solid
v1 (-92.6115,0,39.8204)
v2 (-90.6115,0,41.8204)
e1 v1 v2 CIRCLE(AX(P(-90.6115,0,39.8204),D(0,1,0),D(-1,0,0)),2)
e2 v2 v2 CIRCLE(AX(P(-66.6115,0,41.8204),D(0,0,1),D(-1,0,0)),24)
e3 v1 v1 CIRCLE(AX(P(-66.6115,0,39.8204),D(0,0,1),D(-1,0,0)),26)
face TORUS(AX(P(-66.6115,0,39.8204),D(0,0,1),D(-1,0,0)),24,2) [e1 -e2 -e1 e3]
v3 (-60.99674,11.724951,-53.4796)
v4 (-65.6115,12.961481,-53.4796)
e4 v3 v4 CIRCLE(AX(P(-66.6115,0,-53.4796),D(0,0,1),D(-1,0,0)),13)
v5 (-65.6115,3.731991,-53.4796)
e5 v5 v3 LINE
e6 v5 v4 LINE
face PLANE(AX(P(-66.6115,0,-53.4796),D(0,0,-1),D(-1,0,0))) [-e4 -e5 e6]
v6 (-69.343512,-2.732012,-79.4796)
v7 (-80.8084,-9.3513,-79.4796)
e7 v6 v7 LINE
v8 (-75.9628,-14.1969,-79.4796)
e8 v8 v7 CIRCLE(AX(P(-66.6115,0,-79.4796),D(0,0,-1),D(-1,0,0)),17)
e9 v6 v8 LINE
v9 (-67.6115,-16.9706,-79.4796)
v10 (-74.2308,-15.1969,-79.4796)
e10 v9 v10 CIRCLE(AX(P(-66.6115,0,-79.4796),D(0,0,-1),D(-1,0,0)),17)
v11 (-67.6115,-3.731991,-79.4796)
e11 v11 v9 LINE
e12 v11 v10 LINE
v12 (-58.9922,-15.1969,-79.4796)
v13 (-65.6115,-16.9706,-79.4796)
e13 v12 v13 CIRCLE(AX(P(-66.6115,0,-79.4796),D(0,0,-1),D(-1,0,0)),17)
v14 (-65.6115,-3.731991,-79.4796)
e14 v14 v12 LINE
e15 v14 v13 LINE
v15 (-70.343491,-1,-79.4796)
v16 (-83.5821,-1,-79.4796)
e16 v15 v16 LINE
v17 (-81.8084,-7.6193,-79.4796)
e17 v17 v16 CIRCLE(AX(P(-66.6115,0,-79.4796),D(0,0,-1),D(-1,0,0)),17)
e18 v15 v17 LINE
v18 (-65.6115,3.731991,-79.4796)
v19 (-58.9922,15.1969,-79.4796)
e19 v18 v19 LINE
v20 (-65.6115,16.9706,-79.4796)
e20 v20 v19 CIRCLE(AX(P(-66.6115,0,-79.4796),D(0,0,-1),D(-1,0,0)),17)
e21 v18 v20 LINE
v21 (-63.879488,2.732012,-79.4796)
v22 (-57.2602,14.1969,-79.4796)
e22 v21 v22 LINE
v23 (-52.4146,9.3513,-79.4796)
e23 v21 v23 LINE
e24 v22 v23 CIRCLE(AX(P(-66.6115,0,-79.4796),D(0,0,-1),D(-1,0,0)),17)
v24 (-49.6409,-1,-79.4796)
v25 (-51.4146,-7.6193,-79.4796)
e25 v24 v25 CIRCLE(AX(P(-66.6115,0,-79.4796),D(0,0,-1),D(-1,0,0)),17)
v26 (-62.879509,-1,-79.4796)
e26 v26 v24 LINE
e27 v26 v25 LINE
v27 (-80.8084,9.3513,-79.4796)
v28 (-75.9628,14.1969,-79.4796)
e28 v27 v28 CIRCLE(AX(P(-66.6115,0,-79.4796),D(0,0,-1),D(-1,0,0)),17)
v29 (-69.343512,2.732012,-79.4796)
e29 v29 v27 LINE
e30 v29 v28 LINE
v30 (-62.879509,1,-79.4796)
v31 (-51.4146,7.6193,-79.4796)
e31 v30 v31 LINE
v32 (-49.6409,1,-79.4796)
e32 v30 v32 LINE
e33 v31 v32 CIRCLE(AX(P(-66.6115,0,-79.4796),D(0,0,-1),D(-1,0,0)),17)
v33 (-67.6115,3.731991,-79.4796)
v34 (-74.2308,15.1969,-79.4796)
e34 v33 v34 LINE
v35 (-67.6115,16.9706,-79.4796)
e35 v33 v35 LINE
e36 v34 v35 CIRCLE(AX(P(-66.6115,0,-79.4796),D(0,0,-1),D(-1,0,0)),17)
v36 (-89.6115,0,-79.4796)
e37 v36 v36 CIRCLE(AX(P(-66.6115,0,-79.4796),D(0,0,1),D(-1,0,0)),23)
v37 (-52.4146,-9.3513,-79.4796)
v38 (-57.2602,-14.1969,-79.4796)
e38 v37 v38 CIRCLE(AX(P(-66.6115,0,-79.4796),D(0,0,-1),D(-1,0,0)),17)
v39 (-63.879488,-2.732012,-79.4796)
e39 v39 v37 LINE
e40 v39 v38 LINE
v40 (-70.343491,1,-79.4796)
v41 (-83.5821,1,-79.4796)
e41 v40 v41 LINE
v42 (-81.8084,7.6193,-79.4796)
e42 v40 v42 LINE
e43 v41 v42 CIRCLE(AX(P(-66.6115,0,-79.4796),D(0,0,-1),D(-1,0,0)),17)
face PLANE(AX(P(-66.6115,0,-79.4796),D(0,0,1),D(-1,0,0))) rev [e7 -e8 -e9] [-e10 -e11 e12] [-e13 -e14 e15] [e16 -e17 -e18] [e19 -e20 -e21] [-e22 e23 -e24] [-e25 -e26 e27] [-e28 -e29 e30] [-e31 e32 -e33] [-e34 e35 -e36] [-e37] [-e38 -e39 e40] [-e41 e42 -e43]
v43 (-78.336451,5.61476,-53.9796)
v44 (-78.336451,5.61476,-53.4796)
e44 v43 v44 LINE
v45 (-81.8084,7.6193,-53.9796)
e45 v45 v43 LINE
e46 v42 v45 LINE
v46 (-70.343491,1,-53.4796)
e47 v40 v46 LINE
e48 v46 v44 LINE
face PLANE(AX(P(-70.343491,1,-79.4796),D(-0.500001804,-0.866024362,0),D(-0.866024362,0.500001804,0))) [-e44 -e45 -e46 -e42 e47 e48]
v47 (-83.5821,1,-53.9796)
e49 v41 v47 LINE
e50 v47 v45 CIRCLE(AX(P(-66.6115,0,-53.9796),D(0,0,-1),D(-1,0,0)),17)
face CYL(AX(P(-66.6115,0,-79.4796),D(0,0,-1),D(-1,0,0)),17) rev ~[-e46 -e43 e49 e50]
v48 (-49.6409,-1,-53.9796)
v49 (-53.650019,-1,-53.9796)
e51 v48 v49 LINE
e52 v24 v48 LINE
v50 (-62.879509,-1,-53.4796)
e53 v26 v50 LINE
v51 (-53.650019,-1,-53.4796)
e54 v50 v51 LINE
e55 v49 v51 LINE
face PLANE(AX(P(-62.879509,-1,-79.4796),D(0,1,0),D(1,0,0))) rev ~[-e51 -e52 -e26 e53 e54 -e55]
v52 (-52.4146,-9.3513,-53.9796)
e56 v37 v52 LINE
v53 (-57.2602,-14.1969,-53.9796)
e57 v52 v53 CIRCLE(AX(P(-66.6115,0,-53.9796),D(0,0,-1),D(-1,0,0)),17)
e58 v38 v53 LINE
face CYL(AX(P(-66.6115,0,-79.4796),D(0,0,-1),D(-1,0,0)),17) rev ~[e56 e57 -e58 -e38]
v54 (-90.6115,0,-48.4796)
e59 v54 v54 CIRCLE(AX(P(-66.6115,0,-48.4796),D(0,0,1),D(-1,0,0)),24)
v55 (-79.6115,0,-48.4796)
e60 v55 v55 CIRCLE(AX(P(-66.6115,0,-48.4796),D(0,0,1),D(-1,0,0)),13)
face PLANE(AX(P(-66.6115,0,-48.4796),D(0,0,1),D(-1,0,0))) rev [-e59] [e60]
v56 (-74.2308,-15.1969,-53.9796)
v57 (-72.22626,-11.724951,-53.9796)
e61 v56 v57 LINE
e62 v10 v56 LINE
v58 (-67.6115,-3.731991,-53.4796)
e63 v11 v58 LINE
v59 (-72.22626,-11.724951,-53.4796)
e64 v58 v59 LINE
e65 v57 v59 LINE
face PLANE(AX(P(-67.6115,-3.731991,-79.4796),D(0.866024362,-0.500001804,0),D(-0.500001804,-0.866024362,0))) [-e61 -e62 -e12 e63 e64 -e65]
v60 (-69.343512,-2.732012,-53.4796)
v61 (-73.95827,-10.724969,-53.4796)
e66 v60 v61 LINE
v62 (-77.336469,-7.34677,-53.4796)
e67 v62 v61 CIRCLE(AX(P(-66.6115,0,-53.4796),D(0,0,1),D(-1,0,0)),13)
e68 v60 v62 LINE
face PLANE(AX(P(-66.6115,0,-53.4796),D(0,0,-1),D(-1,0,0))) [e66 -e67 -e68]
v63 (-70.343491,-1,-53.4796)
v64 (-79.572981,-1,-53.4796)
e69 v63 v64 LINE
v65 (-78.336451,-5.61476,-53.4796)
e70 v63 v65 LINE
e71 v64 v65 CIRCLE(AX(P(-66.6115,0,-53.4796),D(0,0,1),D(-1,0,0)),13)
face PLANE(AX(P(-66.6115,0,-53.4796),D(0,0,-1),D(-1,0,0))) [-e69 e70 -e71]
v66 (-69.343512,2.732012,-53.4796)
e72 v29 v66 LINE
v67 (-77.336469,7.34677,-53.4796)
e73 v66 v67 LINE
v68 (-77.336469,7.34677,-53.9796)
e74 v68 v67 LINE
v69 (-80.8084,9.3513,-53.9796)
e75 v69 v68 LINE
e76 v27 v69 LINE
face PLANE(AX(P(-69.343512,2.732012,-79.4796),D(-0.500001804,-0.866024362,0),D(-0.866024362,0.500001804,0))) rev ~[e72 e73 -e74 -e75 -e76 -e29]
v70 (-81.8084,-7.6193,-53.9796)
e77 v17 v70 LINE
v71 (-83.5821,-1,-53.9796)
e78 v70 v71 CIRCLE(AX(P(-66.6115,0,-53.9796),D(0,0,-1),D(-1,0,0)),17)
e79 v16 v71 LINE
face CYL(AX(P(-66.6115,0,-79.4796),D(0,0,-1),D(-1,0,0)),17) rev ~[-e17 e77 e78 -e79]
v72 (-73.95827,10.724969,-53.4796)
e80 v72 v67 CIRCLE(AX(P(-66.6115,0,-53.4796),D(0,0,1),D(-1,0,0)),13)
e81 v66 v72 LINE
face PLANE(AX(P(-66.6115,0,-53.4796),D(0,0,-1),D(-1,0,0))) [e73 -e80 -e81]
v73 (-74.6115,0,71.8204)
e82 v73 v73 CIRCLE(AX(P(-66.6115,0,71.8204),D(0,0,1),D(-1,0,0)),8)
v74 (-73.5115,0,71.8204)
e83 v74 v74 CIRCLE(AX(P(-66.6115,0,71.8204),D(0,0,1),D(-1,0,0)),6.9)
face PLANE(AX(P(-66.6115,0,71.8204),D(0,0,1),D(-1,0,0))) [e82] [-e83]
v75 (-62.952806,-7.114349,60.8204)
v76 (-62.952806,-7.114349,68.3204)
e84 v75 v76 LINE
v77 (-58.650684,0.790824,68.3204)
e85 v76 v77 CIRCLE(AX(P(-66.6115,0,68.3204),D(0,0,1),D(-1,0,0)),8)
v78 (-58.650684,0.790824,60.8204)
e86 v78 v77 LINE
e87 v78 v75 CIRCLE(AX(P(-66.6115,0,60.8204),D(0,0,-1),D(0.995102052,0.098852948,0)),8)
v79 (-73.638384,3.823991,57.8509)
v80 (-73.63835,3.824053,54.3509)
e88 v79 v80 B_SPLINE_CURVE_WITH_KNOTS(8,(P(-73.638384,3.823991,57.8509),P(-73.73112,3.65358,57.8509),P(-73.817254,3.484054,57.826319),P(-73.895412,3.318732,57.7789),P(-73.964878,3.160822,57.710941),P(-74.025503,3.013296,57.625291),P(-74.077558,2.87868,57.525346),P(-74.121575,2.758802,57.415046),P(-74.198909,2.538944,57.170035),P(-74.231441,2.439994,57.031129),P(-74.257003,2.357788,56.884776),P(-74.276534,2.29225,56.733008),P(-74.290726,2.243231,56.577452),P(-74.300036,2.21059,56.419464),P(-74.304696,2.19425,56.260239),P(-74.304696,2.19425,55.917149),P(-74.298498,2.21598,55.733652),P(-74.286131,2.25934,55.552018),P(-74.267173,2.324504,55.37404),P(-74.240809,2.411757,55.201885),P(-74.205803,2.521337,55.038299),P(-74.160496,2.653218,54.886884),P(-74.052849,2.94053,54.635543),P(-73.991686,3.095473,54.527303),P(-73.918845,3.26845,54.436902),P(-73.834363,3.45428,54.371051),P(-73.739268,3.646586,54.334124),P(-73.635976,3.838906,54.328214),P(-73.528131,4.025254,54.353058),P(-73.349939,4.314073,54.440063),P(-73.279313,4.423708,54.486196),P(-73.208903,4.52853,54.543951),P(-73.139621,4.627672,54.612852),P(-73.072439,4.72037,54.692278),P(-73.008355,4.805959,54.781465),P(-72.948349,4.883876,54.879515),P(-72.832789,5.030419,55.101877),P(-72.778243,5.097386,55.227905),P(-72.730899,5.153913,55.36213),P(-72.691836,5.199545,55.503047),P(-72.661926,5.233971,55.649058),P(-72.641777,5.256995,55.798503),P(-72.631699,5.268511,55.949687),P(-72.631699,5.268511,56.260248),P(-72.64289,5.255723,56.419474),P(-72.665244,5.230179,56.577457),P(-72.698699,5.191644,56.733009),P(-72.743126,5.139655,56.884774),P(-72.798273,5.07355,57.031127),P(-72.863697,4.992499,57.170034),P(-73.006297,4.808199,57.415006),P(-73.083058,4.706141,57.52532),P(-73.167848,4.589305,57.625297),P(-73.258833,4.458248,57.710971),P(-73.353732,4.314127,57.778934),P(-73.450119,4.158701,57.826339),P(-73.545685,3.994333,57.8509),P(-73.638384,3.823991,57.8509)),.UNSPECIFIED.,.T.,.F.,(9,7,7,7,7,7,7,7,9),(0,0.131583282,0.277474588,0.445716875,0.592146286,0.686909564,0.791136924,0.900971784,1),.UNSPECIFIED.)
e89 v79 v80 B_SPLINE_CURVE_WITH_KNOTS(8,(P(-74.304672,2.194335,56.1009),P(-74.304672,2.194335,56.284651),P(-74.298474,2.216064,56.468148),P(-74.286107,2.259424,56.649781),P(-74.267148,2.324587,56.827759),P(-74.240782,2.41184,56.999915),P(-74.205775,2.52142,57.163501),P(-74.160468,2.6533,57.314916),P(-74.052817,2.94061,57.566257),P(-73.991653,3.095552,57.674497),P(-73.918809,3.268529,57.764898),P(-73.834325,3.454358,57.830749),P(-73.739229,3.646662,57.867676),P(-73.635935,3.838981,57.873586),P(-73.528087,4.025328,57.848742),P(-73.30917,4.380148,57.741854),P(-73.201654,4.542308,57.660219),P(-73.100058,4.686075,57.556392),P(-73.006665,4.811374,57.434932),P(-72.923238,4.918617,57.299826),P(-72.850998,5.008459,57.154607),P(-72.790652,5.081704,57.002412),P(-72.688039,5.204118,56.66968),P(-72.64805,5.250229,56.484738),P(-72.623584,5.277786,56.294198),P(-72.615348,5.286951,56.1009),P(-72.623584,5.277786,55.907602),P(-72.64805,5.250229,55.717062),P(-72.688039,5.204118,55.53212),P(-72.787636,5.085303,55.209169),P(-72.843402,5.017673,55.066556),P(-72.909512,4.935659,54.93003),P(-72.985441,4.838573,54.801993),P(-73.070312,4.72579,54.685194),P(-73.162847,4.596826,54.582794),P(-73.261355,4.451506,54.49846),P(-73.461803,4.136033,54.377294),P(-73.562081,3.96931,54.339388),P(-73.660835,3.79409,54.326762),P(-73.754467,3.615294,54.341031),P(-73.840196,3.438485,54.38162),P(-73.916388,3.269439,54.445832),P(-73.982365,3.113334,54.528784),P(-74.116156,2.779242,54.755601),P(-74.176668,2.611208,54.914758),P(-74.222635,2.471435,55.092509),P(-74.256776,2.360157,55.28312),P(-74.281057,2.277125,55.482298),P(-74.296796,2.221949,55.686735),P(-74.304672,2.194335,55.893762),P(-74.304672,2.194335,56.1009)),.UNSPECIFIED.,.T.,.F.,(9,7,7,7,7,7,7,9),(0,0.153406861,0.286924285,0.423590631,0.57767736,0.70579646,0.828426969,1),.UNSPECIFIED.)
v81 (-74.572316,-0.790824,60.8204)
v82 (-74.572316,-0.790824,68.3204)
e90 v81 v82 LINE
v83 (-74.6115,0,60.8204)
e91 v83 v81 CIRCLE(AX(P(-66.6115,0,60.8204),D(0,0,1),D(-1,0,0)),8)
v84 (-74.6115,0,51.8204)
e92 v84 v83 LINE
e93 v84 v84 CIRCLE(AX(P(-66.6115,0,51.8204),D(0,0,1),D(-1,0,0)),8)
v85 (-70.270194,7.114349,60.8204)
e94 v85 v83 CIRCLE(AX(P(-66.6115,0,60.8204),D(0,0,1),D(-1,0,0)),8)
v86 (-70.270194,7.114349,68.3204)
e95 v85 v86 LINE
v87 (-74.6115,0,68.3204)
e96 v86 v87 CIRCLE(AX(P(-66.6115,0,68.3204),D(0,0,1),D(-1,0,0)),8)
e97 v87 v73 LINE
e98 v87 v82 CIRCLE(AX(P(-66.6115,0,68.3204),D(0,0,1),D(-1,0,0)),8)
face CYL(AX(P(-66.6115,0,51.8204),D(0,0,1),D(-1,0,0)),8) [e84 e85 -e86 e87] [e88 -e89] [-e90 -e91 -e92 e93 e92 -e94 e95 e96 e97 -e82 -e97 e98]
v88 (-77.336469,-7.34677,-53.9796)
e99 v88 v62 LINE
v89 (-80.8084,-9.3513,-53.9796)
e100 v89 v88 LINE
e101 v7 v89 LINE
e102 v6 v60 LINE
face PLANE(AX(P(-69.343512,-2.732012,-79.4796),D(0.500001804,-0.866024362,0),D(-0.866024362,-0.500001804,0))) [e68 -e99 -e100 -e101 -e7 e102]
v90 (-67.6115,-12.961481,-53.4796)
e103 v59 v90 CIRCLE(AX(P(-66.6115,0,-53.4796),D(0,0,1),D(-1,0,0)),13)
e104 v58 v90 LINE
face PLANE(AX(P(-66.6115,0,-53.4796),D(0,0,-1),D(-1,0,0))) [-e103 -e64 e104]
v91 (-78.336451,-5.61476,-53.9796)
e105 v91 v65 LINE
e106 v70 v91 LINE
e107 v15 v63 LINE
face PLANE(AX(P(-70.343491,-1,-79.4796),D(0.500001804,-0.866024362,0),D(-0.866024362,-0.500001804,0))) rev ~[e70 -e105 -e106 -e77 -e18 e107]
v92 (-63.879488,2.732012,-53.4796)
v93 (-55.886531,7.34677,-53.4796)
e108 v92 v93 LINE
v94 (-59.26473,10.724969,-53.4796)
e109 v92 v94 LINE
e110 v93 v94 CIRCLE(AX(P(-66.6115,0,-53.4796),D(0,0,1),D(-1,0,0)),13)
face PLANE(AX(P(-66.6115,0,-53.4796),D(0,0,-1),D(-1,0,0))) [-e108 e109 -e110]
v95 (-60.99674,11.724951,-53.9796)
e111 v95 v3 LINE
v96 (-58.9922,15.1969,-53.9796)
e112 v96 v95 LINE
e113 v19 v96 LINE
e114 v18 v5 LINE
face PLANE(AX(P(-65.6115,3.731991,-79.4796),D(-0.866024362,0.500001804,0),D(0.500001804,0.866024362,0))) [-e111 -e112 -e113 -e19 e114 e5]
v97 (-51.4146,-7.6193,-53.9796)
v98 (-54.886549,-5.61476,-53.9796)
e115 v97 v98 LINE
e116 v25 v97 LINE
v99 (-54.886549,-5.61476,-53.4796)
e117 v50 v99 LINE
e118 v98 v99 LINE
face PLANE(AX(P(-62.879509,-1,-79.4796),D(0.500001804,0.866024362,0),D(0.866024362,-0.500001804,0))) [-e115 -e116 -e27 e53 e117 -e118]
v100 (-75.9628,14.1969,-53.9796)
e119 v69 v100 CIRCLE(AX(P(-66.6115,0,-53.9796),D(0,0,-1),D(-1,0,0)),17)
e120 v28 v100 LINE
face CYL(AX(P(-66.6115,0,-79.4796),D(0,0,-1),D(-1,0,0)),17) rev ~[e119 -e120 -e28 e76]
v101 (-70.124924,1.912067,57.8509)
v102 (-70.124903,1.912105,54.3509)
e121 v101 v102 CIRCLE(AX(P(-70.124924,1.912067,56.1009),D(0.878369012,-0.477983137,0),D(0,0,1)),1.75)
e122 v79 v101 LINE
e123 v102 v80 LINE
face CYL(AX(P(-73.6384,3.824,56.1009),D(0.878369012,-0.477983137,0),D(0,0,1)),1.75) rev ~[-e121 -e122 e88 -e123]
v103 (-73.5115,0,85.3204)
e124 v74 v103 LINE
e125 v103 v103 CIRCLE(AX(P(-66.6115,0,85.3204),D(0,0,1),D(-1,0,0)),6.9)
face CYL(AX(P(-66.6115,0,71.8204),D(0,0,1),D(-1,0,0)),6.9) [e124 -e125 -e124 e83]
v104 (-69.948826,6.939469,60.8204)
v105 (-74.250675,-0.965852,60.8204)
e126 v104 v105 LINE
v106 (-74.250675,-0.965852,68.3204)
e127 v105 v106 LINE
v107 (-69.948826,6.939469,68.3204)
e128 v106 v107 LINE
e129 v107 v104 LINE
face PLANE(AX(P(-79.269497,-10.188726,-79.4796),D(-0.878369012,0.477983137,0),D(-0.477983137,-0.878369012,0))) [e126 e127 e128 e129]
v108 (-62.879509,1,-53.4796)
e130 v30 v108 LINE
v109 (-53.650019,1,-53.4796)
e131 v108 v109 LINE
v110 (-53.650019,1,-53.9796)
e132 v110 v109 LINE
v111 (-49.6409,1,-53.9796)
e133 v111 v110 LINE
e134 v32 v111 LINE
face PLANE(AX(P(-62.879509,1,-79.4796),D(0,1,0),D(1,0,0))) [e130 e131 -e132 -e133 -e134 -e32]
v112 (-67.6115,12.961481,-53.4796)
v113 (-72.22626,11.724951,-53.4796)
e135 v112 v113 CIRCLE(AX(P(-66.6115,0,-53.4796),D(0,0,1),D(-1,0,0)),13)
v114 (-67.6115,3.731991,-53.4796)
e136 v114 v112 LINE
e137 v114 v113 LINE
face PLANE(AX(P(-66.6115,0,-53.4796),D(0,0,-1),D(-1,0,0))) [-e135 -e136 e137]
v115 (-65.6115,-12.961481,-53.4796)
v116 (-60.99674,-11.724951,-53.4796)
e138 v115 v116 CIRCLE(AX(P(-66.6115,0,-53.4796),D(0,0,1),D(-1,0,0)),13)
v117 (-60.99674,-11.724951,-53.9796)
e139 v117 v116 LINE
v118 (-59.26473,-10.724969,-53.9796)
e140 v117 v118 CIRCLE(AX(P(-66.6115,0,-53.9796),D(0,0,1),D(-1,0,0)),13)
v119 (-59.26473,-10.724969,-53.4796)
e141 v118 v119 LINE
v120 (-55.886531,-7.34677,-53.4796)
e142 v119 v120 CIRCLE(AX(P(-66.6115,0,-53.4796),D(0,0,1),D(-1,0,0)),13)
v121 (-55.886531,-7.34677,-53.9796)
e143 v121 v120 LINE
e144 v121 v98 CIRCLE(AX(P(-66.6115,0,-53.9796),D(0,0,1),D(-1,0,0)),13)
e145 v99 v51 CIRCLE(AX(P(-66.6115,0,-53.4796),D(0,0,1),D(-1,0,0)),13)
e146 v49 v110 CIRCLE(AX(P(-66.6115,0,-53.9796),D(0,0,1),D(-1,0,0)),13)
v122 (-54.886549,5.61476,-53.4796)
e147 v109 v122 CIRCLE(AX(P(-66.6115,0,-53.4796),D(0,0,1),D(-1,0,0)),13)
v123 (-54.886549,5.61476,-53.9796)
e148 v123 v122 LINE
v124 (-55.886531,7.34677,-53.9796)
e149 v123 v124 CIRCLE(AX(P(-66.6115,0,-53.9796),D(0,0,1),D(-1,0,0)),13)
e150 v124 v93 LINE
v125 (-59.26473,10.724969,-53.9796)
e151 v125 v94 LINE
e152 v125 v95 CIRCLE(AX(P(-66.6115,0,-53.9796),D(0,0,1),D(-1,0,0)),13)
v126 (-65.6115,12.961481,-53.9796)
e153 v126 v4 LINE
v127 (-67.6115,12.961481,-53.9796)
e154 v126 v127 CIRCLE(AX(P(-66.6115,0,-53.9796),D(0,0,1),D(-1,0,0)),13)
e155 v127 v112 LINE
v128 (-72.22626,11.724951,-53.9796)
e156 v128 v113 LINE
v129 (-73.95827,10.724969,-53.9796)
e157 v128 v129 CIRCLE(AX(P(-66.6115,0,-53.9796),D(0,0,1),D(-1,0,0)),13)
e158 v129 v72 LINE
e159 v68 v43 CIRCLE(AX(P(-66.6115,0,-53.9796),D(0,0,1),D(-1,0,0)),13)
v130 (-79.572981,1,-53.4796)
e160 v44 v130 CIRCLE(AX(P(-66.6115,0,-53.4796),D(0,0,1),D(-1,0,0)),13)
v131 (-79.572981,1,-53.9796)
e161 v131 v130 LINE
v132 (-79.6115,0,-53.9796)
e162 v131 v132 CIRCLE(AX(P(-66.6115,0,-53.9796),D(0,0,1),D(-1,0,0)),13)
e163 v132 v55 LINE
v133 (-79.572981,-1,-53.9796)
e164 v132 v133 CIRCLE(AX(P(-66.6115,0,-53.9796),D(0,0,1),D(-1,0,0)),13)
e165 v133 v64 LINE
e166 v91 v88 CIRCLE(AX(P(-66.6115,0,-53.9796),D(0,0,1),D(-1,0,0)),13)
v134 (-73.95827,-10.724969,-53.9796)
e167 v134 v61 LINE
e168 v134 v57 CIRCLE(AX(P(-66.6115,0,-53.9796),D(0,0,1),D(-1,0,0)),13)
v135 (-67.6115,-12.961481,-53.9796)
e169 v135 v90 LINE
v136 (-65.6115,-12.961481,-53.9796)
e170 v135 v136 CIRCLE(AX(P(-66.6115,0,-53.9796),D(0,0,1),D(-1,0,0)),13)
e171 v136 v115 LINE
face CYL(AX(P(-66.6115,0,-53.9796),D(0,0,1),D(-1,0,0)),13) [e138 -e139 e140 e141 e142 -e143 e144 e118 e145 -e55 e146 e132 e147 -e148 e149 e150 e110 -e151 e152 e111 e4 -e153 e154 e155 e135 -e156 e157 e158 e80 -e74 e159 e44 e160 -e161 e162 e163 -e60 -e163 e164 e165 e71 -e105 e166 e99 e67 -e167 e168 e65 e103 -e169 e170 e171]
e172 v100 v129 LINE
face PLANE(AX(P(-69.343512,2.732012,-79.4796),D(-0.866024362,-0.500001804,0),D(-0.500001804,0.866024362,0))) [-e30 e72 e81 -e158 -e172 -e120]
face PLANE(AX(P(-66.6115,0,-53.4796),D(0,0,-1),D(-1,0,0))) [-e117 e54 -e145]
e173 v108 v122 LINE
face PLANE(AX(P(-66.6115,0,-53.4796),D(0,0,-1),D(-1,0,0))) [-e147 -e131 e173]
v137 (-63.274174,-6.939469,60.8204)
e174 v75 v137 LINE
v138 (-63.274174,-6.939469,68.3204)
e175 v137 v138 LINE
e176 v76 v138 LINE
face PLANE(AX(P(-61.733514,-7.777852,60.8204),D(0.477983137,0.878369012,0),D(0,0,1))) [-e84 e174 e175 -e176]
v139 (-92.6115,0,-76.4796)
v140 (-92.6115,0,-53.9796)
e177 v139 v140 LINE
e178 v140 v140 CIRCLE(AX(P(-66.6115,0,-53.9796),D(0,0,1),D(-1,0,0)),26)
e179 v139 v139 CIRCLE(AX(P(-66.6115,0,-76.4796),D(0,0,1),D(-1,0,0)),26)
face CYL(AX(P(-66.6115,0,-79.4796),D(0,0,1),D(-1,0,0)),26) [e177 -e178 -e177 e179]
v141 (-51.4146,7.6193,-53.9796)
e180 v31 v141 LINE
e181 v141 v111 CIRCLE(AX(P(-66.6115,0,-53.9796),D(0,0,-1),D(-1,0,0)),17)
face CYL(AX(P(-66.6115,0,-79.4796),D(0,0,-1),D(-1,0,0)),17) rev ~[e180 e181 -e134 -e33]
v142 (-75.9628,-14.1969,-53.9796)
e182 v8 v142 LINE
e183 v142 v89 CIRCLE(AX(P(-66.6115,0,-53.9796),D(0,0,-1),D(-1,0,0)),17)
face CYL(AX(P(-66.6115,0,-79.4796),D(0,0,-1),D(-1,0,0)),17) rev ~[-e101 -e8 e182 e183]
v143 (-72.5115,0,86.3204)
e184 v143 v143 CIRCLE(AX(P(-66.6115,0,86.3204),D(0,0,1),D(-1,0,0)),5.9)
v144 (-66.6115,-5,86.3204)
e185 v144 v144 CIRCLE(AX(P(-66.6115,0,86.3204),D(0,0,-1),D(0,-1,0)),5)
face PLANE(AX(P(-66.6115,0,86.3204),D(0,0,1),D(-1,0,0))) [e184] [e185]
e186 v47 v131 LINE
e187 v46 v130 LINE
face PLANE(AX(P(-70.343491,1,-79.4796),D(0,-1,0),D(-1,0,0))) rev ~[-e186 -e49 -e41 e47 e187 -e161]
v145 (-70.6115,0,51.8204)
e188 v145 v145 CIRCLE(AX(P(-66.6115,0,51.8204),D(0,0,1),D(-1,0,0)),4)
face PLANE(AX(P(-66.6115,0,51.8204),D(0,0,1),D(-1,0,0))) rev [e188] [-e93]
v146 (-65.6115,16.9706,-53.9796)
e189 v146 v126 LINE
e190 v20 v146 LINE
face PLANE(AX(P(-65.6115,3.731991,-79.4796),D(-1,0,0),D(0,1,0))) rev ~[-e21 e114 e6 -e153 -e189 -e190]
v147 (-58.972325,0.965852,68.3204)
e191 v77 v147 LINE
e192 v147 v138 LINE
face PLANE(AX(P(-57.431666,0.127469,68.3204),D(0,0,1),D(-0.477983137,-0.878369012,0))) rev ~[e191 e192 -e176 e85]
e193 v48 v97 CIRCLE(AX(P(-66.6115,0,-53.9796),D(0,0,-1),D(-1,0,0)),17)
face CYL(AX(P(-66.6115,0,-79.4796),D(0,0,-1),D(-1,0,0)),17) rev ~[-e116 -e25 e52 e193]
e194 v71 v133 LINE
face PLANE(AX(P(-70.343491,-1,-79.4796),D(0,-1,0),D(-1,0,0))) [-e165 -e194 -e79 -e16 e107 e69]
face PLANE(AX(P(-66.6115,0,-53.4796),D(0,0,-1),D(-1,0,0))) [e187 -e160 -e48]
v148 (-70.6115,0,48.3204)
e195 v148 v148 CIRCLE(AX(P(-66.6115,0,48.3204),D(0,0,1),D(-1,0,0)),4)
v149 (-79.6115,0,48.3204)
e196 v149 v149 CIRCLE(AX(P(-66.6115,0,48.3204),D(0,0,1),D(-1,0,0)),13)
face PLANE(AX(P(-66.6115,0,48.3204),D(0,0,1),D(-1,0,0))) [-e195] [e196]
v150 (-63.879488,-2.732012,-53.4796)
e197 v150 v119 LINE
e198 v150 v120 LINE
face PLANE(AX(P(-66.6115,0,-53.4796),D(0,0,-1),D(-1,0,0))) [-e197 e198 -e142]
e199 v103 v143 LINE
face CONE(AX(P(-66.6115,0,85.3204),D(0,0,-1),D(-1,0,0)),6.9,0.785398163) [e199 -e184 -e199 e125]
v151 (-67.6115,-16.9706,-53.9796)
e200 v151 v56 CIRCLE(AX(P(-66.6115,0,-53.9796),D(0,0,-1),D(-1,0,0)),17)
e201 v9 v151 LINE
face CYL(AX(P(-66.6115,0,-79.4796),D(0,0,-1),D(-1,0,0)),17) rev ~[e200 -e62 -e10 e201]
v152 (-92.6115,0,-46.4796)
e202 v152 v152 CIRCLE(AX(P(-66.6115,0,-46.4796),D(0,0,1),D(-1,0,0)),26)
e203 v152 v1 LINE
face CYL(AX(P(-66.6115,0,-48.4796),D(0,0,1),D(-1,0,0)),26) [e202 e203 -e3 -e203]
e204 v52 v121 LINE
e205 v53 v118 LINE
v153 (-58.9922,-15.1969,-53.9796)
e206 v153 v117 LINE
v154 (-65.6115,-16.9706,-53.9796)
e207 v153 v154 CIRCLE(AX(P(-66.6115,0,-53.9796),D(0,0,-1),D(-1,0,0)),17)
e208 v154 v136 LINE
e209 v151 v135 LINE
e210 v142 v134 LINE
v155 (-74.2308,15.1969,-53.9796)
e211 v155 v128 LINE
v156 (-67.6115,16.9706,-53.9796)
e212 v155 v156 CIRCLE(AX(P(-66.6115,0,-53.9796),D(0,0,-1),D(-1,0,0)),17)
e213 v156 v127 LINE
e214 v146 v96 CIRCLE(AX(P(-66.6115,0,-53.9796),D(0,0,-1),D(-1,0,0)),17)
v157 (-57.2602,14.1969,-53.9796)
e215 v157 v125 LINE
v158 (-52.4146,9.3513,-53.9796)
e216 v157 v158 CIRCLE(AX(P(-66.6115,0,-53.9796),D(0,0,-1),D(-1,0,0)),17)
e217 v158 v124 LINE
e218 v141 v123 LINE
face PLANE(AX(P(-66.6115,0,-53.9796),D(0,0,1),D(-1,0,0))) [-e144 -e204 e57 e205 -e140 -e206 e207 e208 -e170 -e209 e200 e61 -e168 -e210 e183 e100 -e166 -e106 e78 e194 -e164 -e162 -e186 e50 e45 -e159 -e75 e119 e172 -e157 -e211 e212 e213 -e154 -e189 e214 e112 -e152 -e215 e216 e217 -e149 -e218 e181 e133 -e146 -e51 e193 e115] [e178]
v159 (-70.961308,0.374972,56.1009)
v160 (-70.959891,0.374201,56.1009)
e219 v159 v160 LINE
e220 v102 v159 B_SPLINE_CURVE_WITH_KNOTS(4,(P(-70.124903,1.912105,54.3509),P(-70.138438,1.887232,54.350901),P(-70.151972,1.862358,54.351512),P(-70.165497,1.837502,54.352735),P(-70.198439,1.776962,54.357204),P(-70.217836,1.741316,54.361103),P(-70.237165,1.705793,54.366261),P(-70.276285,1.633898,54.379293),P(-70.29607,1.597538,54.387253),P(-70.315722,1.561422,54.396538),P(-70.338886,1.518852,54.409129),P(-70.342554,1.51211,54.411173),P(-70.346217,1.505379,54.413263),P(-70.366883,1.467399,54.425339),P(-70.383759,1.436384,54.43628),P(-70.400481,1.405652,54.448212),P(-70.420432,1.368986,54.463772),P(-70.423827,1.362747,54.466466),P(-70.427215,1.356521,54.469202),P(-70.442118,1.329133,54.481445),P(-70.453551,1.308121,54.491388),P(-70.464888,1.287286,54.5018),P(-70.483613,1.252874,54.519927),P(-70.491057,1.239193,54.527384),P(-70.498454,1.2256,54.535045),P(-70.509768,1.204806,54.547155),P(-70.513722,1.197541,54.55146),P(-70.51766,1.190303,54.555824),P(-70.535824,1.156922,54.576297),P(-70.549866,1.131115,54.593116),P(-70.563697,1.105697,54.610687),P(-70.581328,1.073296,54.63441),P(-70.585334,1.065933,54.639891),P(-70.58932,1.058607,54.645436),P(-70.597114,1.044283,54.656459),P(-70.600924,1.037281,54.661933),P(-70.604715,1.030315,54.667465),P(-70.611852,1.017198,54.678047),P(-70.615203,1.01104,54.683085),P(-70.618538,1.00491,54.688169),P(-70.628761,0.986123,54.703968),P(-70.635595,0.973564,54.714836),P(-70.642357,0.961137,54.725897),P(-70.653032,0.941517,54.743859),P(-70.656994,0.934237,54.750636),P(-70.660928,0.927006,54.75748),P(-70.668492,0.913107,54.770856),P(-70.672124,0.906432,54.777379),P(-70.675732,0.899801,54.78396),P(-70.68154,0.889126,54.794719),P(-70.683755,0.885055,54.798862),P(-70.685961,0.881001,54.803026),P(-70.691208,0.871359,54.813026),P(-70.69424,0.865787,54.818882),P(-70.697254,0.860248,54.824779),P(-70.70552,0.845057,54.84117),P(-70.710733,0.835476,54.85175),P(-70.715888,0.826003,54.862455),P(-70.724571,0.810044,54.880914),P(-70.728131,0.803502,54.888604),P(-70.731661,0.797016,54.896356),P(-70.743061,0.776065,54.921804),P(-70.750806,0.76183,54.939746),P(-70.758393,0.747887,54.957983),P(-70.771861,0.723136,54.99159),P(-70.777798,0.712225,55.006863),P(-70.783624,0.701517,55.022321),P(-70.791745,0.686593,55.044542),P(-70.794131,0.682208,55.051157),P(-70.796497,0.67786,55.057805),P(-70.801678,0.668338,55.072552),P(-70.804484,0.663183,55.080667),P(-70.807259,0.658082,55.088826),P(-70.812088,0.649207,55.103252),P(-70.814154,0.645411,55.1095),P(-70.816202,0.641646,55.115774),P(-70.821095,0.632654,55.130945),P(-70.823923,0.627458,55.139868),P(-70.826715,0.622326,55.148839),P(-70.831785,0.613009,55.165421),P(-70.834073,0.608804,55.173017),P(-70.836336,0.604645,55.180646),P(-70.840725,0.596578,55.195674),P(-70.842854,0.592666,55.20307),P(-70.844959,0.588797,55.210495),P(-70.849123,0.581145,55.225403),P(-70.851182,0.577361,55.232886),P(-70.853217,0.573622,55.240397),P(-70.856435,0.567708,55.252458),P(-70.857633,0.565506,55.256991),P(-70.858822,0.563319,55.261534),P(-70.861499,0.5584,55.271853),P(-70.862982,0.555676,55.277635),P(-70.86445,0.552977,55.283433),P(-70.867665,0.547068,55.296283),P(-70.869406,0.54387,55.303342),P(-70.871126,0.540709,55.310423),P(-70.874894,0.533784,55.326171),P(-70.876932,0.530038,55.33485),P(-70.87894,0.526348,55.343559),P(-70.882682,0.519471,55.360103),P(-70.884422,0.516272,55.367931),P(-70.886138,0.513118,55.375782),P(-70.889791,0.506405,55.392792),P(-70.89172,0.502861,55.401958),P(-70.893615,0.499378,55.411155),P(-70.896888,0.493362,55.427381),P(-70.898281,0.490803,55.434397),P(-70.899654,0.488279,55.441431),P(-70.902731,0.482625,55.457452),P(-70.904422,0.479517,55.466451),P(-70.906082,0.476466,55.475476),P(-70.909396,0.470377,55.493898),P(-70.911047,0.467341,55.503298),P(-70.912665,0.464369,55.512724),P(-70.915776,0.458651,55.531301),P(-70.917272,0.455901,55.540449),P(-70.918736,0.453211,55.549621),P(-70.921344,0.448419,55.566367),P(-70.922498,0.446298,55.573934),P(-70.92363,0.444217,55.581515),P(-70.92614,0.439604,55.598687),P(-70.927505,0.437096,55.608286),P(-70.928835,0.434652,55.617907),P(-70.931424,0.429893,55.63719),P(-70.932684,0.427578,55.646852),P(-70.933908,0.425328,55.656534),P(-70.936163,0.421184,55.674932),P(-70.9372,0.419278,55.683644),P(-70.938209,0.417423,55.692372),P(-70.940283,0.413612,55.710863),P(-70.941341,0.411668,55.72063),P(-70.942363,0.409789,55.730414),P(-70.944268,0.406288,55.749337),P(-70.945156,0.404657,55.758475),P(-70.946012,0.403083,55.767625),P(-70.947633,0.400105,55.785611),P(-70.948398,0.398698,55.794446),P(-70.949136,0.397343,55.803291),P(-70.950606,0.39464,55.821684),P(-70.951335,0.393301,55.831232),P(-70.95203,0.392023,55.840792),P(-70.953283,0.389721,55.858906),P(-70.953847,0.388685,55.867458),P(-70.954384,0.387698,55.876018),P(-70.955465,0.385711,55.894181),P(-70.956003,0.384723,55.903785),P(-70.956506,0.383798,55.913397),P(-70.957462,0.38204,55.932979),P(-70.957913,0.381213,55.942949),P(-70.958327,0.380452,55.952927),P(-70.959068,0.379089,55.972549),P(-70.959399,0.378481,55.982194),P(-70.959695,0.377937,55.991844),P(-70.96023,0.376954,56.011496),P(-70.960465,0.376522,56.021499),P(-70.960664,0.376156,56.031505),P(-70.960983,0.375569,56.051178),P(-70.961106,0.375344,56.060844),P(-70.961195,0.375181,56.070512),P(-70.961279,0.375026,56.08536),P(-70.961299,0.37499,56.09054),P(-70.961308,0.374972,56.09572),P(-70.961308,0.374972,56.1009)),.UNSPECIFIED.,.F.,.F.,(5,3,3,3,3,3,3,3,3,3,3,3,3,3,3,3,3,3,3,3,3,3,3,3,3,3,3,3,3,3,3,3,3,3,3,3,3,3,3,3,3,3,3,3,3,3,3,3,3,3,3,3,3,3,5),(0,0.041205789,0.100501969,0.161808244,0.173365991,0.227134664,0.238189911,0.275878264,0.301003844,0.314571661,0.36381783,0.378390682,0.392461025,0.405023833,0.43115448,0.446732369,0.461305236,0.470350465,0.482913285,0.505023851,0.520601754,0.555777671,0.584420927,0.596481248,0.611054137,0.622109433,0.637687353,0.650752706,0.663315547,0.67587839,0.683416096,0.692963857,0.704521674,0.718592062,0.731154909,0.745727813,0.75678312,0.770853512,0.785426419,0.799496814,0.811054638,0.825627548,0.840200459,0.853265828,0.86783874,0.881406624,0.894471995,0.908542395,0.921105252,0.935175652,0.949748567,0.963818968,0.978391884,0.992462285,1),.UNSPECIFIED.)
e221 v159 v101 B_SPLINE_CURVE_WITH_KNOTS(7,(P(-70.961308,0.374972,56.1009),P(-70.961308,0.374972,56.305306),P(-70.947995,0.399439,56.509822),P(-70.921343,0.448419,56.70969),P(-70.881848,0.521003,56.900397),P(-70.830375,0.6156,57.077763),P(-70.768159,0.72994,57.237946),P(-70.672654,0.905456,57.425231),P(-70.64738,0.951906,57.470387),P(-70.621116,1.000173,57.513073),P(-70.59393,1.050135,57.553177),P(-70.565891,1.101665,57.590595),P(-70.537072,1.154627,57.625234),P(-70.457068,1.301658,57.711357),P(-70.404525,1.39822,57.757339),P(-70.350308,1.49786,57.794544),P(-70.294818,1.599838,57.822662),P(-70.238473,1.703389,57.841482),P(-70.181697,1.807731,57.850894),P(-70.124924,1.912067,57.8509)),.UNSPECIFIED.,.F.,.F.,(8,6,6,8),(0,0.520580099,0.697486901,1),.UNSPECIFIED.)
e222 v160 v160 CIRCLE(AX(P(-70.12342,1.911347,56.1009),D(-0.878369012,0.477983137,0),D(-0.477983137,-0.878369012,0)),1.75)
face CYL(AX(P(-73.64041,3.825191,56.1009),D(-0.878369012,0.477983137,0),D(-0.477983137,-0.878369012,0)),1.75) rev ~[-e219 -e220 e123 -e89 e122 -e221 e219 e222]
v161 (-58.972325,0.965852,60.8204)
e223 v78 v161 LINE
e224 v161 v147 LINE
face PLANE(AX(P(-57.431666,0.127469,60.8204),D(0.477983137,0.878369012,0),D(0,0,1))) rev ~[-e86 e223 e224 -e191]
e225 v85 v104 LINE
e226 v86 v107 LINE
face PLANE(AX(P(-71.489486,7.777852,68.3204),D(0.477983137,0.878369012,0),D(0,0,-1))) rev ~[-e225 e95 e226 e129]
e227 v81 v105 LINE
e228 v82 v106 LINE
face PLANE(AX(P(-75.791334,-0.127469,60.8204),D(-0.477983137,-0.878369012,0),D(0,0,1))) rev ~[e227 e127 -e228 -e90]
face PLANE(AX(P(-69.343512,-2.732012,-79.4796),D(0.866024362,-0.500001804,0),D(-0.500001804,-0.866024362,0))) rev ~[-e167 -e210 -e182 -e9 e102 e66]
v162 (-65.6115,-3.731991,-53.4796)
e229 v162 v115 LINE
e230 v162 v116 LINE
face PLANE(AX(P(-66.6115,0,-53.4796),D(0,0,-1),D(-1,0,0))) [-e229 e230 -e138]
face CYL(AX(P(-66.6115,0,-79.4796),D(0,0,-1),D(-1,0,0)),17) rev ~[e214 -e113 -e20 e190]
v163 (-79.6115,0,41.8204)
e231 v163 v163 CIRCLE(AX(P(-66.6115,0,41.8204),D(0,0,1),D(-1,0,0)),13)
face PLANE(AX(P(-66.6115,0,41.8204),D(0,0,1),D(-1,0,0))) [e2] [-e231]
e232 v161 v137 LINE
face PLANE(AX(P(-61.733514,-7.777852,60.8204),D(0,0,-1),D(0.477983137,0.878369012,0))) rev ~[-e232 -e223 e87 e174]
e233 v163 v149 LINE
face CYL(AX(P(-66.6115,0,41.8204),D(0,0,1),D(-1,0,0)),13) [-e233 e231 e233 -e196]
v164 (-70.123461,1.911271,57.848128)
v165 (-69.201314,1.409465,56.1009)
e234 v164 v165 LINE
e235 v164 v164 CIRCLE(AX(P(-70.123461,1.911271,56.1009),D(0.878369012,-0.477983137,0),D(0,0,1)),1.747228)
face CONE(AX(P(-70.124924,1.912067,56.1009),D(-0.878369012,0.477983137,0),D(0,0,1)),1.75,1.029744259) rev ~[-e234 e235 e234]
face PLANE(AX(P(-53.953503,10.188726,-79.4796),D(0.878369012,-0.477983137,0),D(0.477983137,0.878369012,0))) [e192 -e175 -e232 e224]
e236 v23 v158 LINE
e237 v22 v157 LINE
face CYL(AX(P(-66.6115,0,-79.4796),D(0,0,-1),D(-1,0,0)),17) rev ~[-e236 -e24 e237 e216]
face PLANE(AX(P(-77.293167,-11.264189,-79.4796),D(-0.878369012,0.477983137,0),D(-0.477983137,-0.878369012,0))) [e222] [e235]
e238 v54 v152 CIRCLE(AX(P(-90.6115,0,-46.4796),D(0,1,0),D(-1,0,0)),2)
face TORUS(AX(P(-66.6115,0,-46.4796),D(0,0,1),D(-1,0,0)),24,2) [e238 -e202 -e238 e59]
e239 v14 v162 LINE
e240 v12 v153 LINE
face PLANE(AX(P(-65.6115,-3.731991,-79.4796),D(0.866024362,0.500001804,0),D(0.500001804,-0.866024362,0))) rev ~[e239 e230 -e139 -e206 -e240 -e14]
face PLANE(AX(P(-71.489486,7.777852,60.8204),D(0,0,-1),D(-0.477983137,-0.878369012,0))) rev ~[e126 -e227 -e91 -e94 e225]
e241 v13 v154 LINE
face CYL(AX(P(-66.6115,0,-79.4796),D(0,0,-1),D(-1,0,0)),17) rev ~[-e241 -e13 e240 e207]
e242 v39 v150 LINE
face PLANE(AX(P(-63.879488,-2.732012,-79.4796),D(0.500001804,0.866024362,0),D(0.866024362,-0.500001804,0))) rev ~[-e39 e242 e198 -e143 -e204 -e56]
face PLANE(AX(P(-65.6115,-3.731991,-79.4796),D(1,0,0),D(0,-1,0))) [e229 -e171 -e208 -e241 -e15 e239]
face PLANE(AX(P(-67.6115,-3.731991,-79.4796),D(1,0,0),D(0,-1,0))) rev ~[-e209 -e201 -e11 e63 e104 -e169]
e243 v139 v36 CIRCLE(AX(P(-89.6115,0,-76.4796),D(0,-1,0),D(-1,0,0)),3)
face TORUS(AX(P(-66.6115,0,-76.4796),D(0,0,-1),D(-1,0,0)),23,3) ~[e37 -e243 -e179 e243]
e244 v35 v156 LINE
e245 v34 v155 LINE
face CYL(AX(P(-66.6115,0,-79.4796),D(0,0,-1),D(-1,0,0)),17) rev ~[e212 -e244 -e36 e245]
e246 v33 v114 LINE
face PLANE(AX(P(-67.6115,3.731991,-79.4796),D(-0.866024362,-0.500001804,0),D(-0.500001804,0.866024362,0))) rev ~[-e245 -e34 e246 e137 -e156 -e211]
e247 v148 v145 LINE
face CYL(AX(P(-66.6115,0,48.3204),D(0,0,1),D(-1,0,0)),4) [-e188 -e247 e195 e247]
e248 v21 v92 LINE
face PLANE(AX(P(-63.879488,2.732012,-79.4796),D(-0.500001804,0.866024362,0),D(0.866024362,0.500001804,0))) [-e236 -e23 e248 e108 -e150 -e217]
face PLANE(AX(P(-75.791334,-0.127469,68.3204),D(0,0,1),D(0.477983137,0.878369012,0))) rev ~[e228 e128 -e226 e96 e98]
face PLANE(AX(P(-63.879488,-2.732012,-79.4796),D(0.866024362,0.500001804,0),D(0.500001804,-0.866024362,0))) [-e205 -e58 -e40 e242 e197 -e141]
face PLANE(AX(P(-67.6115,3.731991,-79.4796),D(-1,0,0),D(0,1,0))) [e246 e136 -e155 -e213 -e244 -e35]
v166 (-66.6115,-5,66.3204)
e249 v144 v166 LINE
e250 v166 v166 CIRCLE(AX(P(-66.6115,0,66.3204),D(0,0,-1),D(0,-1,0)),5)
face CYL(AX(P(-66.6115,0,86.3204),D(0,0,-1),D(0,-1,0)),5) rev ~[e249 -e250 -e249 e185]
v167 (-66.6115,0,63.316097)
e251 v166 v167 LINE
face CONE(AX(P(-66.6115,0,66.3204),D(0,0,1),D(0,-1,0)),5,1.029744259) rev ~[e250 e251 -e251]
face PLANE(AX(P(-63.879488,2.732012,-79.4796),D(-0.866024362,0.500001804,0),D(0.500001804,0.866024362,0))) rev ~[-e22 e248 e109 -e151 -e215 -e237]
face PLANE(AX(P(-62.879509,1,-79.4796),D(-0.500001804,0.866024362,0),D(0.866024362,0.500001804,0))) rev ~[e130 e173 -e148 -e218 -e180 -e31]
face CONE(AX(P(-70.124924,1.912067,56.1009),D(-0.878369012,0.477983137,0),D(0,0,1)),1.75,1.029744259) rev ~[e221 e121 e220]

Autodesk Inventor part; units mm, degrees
ref_plane "YZ Plane" through (0, 0, 0) normal (1, 0, 0) x (0, 1, 0)
sketch "Boceto1" plane through (0, 0, 0) normal (0, 1, 0) x (-1, 0, 0)
  line L0 (66.6115, -79.4796) -> (66.6115, 152.1717)
  line L1 (66.6115, -79.4796) -> (92.6115, -79.4796)
  line L2 (92.6115, -79.4796) -> (92.6115, -53.9796)
  line L3 (92.6115, -53.9796) -> (79.6115, -53.9796)
  line L4 (79.6115, -53.9796) -> (79.6115, -48.4796)
  line L5 (79.6115, -48.4796) -> (92.6115, -48.4796)
  line L6 (92.6115, -48.4796) -> (92.6115, 41.8204)
  line L7 (92.6115, 41.8204) -> (79.6115, 41.8204)
  line L8 (79.6115, 41.8204) -> (79.6115, 48.3204)
  line L9 (79.6115, 48.3204) -> (70.6115, 48.3204)
  line L10 (70.6115, 48.3204) -> (70.6115, 51.8204)
  line L11 (70.6115, 51.8204) -> (74.6115, 51.8204)
  line L12 (74.6115, 51.8204) -> (74.6115, 71.8204)
  line L13 (74.6115, 71.8204) -> (73.5115, 71.8204)
  line L14 (73.5115, 71.8204) -> (73.5115, 86.3204)
  line L15 (73.5115, 86.3204) -> (66.6115, 86.3204)
  dimension "d8" = 26
  dimension "d9" = 25.5
  dimension "d10" = 13
  dimension "d11" = 5.5
  dimension "d12" = 90.3
  dimension "d20" = 13
  dimension "d21" = 6.5
  dimension "d22" = 9
  dimension "d23" = 3.5
  dimension "d24" = 4
  dimension "d25" = 20
  dimension "d26" = 1.1
  dimension "d27" = 14.5
revolve "Revolución1" add sketch "Boceto1" angle 360 about axis through (-66.6115, 0, -79.4796) along (0, 0, 1)
fillet "Empalme1" radius 3 1 edges at (-40.6115, 0, -79.4796)
fillet "Empalme2" radius 2 1 edges at (-40.6115, 0, -48.4796)
fillet "Empalme3" radius 2 1 edges at (-40.6115, 0, 41.8204)
chamfer "Chaflán1" distance 1 angle 45 1 edges at (-59.7115, 0, 86.3204)
thread "Rosca1" size "M14x0.75" class "6g" standard "ISO Metric profile" length 9
sketch "Boceto3" plane through (-66.6115, 0, -79.4796) normal (0, 0, -1) x (-1, 0, 0)
  circle A0 centre (0, 0) radius 17
  line L0 (0, 0) -> (1, 0)
  line L1 (1, 0) -> (1, -16.9706)
  line L2 (0, 0) -> (-1, 0)
  line L3 (-1, 0) -> (-1, -16.9706)
  line L4 (0.866, 0.5) -> (9.3513, -14.1969)
  line L5 (-0.866, -0.5) -> (7.6193, -15.1969)
  line L6 (0.5, 0.866) -> (15.1969, -7.6193)
  line L7 (-0.5, -0.866) -> (14.1969, -9.3513)
  line L8 (0, 1) -> (16.9706, 1)
  line L9 (0, -1) -> (16.9706, -1)
  line L10 (-0.5, 0.866) -> (14.1969, 9.3513)
  line L11 (0.5, -0.866) -> (15.1969, 7.6193)
  line L12 (-0.866, 0.5) -> (7.6193, 15.1969)
  line L13 (0.866, -0.5) -> (9.3513, 14.1969)
  line L14 (-1, 0) -> (-1, 16.9706)
  line L15 (1, 0) -> (1, 16.9706)
  line L16 (-0.866, -0.5) -> (-9.3513, 14.1969)
  line L17 (0.866, 0.5) -> (-7.6193, 15.1969)
  line L18 (-0.5, -0.866) -> (-15.1969, 7.6193)
  line L19 (0.5, 0.866) -> (-14.1969, 9.3513)
  line L20 (0, -1) -> (-16.9706, -1)
  line L21 (0, 1) -> (-16.9706, 1)
  line L22 (0.5, -0.866) -> (-14.1969, -9.3513)
  line L23 (-0.5, 0.866) -> (-15.1969, -7.6193)
  line L24 (0.866, -0.5) -> (-7.6193, -15.1969)
  line L25 (-0.866, 0.5) -> (-9.3513, -14.1969)
  point P0 (-66.6115, 0)
  point P1 (9.3513, 14.1969)
  point P2 (2.7321, 2.7321)
  point P3 (1, 16.9706)
  point P4 (1, 3.7321)
  point P5 (7.6193, 15.1969)
  point P6 (-7.6193, 15.1969)
  point P7 (-1, 3.7321)
  point P8 (-1, 16.9706)
  point P9 (-2.7321, 2.7321)
  point P10 (-9.3513, 14.1969)
  point P11 (-3.7321, 1)
  point P12 (-15.1969, -7.6193)
  point P13 (-3.7321, -1)
  point P14 (-2.7321, -2.7321)
  point P15 (-1, -3.7321)
  point P16 (-7.6193, -15.1969)
  point P17 (7.6193, -15.1969)
  point P18 (1, -3.7321)
  point P19 (14.1969, -9.3513)
  point P20 (2.7321, -2.7321)
  point P21 (9.3513, -14.1969)
  point P22 (16.9706, -1)
  point P23 (3.7321, -1)
  point P24 (15.1969, -7.6193)
  point P25 (15.1969, 7.6193)
  point P26 (3.7321, 1)
  point P27 (16.9706, 1)
  dimension "d38" = 34
  dimension "d39" = 1
  dimension "d40" = 1
  dimension "d43" = 360
extrude "Extrusión4" cut sketch "Boceto3" against normal blind 26 contours L8 L11 A0 | A0 L6 L9 | L10 L13 A0 | A0 L4 L7 | L12 L15 A0 | A0 L1 L5 | L14 L17 A0 | A0 L24 L3 | L16 L19 A0 | A0 L22 L25 | L18 L21 A0 | A0 L20 L23
ref_plane "Plano de trabajo1" through (-52.4146, 9.3513, -79.4796) normal (0.8784, -0.478, 0) x (0.478, 0.8784, 0)
sketch "Boceto4" plane through (-52.4146, 9.3513, -79.4796) normal (0.8784, -0.478, 0) x (0.478, 0.8784, 0)
  line L0 (-7, 151.3) -> (-7, 131.3) projected
  line L1 (-10.5, 147.8) -> (-19.5, 147.8)
  line L2 (-23, 151.3) -> (-23, 131.3) projected
  line L3 (-19.5, 140.3) -> (-10.5, 140.3)
  line L4 (-23, 151.3) -> (-7, 151.3) projected
  line L5 (-15, 140.3) -> (-19.5, 140.3)
  line L6 (-19.5, 140.3) -> (-10.5, 140.3)
  line L7 (-10.5, 140.3) -> (-10.5, 147.8)
  line L8 (-19.5, 140.3) -> (-19.5, 147.8)
  point P0 (16.8407, 79.4796)
  dimension "d49" = 3.5
  dimension "d50" = 4.5
  dimension "d51" = 9
extrude "Extrusión5" cut sketch "Boceto4" against normal blind 1.75
ref_plane "Plano de trabajo2" through (-80.8084, -9.3513, -79.4796) normal (-0.8784, 0.478, 0) x (-0.478, -0.8784, 0)
sketch "Boceto5" plane through (-80.8084, -9.3513, -79.4796) normal (-0.8784, 0.478, 0) x (-0.478, -0.8784, 0)
  line L0 (-23, 151.3) -> (-7, 151.3) projected
  line L1 (-7, 151.3) -> (-7, 131.3) projected
  line L2 (-19.5, 147.8) -> (-19.5, 140.3) projected
  line L3 (-19.5, 147.8) -> (-19.5, 140.3)
  line L4 (-19.5, 140.3) -> (-10.5, 140.3) projected
  line L5 (-19.5, 140.3) -> (-10.5, 140.3)
  line L6 (-10.5, 140.3) -> (-10.5, 147.8) projected
  line L7 (-10.5, 140.3) -> (-10.5, 147.8)
  line L8 (-10.5, 147.8) -> (-19.5, 147.8) projected
  line L9 (-10.5, 147.8) -> (-19.5, 147.8)
  circle A0 centre (-15, 135.5805) radius 1.75
  point P0 (-46.8407, 79.4796)
  dimension "d55" = 8
  dimension "d56" = 3.5
extrude "Extrusión6" cut sketch "Boceto5" against normal blind 1.75 contours L8 L6 L4 L2
extrude "Extrusión7" cut sketch "Boceto5" against normal blind 4 contours A0
hole "Agujero1" at (-73.6384, 3.824, 56.1009) direction (0.8784, -0.478, 0) diameter 3.5 depth 4 tip angle 118
thread "Rosca2" size "M3.5x0.6" class "6H" standard "ISO Metric profile" length 9
sketch "Boceto6" plane through (-66.6115, 0, 86.3204) normal (0, 0, 1) x (1, 0, 0)
  circle A0 centre (0, 0) radius 5
  point P0 (66.6115, 0)
  dimension "d70" = 10
hole "Agujero2" at (-66.6115, 0, 86.3204) direction (0, 0, -1) diameter 10 depth 20 tip angle 118
properties part number "motor DC"
